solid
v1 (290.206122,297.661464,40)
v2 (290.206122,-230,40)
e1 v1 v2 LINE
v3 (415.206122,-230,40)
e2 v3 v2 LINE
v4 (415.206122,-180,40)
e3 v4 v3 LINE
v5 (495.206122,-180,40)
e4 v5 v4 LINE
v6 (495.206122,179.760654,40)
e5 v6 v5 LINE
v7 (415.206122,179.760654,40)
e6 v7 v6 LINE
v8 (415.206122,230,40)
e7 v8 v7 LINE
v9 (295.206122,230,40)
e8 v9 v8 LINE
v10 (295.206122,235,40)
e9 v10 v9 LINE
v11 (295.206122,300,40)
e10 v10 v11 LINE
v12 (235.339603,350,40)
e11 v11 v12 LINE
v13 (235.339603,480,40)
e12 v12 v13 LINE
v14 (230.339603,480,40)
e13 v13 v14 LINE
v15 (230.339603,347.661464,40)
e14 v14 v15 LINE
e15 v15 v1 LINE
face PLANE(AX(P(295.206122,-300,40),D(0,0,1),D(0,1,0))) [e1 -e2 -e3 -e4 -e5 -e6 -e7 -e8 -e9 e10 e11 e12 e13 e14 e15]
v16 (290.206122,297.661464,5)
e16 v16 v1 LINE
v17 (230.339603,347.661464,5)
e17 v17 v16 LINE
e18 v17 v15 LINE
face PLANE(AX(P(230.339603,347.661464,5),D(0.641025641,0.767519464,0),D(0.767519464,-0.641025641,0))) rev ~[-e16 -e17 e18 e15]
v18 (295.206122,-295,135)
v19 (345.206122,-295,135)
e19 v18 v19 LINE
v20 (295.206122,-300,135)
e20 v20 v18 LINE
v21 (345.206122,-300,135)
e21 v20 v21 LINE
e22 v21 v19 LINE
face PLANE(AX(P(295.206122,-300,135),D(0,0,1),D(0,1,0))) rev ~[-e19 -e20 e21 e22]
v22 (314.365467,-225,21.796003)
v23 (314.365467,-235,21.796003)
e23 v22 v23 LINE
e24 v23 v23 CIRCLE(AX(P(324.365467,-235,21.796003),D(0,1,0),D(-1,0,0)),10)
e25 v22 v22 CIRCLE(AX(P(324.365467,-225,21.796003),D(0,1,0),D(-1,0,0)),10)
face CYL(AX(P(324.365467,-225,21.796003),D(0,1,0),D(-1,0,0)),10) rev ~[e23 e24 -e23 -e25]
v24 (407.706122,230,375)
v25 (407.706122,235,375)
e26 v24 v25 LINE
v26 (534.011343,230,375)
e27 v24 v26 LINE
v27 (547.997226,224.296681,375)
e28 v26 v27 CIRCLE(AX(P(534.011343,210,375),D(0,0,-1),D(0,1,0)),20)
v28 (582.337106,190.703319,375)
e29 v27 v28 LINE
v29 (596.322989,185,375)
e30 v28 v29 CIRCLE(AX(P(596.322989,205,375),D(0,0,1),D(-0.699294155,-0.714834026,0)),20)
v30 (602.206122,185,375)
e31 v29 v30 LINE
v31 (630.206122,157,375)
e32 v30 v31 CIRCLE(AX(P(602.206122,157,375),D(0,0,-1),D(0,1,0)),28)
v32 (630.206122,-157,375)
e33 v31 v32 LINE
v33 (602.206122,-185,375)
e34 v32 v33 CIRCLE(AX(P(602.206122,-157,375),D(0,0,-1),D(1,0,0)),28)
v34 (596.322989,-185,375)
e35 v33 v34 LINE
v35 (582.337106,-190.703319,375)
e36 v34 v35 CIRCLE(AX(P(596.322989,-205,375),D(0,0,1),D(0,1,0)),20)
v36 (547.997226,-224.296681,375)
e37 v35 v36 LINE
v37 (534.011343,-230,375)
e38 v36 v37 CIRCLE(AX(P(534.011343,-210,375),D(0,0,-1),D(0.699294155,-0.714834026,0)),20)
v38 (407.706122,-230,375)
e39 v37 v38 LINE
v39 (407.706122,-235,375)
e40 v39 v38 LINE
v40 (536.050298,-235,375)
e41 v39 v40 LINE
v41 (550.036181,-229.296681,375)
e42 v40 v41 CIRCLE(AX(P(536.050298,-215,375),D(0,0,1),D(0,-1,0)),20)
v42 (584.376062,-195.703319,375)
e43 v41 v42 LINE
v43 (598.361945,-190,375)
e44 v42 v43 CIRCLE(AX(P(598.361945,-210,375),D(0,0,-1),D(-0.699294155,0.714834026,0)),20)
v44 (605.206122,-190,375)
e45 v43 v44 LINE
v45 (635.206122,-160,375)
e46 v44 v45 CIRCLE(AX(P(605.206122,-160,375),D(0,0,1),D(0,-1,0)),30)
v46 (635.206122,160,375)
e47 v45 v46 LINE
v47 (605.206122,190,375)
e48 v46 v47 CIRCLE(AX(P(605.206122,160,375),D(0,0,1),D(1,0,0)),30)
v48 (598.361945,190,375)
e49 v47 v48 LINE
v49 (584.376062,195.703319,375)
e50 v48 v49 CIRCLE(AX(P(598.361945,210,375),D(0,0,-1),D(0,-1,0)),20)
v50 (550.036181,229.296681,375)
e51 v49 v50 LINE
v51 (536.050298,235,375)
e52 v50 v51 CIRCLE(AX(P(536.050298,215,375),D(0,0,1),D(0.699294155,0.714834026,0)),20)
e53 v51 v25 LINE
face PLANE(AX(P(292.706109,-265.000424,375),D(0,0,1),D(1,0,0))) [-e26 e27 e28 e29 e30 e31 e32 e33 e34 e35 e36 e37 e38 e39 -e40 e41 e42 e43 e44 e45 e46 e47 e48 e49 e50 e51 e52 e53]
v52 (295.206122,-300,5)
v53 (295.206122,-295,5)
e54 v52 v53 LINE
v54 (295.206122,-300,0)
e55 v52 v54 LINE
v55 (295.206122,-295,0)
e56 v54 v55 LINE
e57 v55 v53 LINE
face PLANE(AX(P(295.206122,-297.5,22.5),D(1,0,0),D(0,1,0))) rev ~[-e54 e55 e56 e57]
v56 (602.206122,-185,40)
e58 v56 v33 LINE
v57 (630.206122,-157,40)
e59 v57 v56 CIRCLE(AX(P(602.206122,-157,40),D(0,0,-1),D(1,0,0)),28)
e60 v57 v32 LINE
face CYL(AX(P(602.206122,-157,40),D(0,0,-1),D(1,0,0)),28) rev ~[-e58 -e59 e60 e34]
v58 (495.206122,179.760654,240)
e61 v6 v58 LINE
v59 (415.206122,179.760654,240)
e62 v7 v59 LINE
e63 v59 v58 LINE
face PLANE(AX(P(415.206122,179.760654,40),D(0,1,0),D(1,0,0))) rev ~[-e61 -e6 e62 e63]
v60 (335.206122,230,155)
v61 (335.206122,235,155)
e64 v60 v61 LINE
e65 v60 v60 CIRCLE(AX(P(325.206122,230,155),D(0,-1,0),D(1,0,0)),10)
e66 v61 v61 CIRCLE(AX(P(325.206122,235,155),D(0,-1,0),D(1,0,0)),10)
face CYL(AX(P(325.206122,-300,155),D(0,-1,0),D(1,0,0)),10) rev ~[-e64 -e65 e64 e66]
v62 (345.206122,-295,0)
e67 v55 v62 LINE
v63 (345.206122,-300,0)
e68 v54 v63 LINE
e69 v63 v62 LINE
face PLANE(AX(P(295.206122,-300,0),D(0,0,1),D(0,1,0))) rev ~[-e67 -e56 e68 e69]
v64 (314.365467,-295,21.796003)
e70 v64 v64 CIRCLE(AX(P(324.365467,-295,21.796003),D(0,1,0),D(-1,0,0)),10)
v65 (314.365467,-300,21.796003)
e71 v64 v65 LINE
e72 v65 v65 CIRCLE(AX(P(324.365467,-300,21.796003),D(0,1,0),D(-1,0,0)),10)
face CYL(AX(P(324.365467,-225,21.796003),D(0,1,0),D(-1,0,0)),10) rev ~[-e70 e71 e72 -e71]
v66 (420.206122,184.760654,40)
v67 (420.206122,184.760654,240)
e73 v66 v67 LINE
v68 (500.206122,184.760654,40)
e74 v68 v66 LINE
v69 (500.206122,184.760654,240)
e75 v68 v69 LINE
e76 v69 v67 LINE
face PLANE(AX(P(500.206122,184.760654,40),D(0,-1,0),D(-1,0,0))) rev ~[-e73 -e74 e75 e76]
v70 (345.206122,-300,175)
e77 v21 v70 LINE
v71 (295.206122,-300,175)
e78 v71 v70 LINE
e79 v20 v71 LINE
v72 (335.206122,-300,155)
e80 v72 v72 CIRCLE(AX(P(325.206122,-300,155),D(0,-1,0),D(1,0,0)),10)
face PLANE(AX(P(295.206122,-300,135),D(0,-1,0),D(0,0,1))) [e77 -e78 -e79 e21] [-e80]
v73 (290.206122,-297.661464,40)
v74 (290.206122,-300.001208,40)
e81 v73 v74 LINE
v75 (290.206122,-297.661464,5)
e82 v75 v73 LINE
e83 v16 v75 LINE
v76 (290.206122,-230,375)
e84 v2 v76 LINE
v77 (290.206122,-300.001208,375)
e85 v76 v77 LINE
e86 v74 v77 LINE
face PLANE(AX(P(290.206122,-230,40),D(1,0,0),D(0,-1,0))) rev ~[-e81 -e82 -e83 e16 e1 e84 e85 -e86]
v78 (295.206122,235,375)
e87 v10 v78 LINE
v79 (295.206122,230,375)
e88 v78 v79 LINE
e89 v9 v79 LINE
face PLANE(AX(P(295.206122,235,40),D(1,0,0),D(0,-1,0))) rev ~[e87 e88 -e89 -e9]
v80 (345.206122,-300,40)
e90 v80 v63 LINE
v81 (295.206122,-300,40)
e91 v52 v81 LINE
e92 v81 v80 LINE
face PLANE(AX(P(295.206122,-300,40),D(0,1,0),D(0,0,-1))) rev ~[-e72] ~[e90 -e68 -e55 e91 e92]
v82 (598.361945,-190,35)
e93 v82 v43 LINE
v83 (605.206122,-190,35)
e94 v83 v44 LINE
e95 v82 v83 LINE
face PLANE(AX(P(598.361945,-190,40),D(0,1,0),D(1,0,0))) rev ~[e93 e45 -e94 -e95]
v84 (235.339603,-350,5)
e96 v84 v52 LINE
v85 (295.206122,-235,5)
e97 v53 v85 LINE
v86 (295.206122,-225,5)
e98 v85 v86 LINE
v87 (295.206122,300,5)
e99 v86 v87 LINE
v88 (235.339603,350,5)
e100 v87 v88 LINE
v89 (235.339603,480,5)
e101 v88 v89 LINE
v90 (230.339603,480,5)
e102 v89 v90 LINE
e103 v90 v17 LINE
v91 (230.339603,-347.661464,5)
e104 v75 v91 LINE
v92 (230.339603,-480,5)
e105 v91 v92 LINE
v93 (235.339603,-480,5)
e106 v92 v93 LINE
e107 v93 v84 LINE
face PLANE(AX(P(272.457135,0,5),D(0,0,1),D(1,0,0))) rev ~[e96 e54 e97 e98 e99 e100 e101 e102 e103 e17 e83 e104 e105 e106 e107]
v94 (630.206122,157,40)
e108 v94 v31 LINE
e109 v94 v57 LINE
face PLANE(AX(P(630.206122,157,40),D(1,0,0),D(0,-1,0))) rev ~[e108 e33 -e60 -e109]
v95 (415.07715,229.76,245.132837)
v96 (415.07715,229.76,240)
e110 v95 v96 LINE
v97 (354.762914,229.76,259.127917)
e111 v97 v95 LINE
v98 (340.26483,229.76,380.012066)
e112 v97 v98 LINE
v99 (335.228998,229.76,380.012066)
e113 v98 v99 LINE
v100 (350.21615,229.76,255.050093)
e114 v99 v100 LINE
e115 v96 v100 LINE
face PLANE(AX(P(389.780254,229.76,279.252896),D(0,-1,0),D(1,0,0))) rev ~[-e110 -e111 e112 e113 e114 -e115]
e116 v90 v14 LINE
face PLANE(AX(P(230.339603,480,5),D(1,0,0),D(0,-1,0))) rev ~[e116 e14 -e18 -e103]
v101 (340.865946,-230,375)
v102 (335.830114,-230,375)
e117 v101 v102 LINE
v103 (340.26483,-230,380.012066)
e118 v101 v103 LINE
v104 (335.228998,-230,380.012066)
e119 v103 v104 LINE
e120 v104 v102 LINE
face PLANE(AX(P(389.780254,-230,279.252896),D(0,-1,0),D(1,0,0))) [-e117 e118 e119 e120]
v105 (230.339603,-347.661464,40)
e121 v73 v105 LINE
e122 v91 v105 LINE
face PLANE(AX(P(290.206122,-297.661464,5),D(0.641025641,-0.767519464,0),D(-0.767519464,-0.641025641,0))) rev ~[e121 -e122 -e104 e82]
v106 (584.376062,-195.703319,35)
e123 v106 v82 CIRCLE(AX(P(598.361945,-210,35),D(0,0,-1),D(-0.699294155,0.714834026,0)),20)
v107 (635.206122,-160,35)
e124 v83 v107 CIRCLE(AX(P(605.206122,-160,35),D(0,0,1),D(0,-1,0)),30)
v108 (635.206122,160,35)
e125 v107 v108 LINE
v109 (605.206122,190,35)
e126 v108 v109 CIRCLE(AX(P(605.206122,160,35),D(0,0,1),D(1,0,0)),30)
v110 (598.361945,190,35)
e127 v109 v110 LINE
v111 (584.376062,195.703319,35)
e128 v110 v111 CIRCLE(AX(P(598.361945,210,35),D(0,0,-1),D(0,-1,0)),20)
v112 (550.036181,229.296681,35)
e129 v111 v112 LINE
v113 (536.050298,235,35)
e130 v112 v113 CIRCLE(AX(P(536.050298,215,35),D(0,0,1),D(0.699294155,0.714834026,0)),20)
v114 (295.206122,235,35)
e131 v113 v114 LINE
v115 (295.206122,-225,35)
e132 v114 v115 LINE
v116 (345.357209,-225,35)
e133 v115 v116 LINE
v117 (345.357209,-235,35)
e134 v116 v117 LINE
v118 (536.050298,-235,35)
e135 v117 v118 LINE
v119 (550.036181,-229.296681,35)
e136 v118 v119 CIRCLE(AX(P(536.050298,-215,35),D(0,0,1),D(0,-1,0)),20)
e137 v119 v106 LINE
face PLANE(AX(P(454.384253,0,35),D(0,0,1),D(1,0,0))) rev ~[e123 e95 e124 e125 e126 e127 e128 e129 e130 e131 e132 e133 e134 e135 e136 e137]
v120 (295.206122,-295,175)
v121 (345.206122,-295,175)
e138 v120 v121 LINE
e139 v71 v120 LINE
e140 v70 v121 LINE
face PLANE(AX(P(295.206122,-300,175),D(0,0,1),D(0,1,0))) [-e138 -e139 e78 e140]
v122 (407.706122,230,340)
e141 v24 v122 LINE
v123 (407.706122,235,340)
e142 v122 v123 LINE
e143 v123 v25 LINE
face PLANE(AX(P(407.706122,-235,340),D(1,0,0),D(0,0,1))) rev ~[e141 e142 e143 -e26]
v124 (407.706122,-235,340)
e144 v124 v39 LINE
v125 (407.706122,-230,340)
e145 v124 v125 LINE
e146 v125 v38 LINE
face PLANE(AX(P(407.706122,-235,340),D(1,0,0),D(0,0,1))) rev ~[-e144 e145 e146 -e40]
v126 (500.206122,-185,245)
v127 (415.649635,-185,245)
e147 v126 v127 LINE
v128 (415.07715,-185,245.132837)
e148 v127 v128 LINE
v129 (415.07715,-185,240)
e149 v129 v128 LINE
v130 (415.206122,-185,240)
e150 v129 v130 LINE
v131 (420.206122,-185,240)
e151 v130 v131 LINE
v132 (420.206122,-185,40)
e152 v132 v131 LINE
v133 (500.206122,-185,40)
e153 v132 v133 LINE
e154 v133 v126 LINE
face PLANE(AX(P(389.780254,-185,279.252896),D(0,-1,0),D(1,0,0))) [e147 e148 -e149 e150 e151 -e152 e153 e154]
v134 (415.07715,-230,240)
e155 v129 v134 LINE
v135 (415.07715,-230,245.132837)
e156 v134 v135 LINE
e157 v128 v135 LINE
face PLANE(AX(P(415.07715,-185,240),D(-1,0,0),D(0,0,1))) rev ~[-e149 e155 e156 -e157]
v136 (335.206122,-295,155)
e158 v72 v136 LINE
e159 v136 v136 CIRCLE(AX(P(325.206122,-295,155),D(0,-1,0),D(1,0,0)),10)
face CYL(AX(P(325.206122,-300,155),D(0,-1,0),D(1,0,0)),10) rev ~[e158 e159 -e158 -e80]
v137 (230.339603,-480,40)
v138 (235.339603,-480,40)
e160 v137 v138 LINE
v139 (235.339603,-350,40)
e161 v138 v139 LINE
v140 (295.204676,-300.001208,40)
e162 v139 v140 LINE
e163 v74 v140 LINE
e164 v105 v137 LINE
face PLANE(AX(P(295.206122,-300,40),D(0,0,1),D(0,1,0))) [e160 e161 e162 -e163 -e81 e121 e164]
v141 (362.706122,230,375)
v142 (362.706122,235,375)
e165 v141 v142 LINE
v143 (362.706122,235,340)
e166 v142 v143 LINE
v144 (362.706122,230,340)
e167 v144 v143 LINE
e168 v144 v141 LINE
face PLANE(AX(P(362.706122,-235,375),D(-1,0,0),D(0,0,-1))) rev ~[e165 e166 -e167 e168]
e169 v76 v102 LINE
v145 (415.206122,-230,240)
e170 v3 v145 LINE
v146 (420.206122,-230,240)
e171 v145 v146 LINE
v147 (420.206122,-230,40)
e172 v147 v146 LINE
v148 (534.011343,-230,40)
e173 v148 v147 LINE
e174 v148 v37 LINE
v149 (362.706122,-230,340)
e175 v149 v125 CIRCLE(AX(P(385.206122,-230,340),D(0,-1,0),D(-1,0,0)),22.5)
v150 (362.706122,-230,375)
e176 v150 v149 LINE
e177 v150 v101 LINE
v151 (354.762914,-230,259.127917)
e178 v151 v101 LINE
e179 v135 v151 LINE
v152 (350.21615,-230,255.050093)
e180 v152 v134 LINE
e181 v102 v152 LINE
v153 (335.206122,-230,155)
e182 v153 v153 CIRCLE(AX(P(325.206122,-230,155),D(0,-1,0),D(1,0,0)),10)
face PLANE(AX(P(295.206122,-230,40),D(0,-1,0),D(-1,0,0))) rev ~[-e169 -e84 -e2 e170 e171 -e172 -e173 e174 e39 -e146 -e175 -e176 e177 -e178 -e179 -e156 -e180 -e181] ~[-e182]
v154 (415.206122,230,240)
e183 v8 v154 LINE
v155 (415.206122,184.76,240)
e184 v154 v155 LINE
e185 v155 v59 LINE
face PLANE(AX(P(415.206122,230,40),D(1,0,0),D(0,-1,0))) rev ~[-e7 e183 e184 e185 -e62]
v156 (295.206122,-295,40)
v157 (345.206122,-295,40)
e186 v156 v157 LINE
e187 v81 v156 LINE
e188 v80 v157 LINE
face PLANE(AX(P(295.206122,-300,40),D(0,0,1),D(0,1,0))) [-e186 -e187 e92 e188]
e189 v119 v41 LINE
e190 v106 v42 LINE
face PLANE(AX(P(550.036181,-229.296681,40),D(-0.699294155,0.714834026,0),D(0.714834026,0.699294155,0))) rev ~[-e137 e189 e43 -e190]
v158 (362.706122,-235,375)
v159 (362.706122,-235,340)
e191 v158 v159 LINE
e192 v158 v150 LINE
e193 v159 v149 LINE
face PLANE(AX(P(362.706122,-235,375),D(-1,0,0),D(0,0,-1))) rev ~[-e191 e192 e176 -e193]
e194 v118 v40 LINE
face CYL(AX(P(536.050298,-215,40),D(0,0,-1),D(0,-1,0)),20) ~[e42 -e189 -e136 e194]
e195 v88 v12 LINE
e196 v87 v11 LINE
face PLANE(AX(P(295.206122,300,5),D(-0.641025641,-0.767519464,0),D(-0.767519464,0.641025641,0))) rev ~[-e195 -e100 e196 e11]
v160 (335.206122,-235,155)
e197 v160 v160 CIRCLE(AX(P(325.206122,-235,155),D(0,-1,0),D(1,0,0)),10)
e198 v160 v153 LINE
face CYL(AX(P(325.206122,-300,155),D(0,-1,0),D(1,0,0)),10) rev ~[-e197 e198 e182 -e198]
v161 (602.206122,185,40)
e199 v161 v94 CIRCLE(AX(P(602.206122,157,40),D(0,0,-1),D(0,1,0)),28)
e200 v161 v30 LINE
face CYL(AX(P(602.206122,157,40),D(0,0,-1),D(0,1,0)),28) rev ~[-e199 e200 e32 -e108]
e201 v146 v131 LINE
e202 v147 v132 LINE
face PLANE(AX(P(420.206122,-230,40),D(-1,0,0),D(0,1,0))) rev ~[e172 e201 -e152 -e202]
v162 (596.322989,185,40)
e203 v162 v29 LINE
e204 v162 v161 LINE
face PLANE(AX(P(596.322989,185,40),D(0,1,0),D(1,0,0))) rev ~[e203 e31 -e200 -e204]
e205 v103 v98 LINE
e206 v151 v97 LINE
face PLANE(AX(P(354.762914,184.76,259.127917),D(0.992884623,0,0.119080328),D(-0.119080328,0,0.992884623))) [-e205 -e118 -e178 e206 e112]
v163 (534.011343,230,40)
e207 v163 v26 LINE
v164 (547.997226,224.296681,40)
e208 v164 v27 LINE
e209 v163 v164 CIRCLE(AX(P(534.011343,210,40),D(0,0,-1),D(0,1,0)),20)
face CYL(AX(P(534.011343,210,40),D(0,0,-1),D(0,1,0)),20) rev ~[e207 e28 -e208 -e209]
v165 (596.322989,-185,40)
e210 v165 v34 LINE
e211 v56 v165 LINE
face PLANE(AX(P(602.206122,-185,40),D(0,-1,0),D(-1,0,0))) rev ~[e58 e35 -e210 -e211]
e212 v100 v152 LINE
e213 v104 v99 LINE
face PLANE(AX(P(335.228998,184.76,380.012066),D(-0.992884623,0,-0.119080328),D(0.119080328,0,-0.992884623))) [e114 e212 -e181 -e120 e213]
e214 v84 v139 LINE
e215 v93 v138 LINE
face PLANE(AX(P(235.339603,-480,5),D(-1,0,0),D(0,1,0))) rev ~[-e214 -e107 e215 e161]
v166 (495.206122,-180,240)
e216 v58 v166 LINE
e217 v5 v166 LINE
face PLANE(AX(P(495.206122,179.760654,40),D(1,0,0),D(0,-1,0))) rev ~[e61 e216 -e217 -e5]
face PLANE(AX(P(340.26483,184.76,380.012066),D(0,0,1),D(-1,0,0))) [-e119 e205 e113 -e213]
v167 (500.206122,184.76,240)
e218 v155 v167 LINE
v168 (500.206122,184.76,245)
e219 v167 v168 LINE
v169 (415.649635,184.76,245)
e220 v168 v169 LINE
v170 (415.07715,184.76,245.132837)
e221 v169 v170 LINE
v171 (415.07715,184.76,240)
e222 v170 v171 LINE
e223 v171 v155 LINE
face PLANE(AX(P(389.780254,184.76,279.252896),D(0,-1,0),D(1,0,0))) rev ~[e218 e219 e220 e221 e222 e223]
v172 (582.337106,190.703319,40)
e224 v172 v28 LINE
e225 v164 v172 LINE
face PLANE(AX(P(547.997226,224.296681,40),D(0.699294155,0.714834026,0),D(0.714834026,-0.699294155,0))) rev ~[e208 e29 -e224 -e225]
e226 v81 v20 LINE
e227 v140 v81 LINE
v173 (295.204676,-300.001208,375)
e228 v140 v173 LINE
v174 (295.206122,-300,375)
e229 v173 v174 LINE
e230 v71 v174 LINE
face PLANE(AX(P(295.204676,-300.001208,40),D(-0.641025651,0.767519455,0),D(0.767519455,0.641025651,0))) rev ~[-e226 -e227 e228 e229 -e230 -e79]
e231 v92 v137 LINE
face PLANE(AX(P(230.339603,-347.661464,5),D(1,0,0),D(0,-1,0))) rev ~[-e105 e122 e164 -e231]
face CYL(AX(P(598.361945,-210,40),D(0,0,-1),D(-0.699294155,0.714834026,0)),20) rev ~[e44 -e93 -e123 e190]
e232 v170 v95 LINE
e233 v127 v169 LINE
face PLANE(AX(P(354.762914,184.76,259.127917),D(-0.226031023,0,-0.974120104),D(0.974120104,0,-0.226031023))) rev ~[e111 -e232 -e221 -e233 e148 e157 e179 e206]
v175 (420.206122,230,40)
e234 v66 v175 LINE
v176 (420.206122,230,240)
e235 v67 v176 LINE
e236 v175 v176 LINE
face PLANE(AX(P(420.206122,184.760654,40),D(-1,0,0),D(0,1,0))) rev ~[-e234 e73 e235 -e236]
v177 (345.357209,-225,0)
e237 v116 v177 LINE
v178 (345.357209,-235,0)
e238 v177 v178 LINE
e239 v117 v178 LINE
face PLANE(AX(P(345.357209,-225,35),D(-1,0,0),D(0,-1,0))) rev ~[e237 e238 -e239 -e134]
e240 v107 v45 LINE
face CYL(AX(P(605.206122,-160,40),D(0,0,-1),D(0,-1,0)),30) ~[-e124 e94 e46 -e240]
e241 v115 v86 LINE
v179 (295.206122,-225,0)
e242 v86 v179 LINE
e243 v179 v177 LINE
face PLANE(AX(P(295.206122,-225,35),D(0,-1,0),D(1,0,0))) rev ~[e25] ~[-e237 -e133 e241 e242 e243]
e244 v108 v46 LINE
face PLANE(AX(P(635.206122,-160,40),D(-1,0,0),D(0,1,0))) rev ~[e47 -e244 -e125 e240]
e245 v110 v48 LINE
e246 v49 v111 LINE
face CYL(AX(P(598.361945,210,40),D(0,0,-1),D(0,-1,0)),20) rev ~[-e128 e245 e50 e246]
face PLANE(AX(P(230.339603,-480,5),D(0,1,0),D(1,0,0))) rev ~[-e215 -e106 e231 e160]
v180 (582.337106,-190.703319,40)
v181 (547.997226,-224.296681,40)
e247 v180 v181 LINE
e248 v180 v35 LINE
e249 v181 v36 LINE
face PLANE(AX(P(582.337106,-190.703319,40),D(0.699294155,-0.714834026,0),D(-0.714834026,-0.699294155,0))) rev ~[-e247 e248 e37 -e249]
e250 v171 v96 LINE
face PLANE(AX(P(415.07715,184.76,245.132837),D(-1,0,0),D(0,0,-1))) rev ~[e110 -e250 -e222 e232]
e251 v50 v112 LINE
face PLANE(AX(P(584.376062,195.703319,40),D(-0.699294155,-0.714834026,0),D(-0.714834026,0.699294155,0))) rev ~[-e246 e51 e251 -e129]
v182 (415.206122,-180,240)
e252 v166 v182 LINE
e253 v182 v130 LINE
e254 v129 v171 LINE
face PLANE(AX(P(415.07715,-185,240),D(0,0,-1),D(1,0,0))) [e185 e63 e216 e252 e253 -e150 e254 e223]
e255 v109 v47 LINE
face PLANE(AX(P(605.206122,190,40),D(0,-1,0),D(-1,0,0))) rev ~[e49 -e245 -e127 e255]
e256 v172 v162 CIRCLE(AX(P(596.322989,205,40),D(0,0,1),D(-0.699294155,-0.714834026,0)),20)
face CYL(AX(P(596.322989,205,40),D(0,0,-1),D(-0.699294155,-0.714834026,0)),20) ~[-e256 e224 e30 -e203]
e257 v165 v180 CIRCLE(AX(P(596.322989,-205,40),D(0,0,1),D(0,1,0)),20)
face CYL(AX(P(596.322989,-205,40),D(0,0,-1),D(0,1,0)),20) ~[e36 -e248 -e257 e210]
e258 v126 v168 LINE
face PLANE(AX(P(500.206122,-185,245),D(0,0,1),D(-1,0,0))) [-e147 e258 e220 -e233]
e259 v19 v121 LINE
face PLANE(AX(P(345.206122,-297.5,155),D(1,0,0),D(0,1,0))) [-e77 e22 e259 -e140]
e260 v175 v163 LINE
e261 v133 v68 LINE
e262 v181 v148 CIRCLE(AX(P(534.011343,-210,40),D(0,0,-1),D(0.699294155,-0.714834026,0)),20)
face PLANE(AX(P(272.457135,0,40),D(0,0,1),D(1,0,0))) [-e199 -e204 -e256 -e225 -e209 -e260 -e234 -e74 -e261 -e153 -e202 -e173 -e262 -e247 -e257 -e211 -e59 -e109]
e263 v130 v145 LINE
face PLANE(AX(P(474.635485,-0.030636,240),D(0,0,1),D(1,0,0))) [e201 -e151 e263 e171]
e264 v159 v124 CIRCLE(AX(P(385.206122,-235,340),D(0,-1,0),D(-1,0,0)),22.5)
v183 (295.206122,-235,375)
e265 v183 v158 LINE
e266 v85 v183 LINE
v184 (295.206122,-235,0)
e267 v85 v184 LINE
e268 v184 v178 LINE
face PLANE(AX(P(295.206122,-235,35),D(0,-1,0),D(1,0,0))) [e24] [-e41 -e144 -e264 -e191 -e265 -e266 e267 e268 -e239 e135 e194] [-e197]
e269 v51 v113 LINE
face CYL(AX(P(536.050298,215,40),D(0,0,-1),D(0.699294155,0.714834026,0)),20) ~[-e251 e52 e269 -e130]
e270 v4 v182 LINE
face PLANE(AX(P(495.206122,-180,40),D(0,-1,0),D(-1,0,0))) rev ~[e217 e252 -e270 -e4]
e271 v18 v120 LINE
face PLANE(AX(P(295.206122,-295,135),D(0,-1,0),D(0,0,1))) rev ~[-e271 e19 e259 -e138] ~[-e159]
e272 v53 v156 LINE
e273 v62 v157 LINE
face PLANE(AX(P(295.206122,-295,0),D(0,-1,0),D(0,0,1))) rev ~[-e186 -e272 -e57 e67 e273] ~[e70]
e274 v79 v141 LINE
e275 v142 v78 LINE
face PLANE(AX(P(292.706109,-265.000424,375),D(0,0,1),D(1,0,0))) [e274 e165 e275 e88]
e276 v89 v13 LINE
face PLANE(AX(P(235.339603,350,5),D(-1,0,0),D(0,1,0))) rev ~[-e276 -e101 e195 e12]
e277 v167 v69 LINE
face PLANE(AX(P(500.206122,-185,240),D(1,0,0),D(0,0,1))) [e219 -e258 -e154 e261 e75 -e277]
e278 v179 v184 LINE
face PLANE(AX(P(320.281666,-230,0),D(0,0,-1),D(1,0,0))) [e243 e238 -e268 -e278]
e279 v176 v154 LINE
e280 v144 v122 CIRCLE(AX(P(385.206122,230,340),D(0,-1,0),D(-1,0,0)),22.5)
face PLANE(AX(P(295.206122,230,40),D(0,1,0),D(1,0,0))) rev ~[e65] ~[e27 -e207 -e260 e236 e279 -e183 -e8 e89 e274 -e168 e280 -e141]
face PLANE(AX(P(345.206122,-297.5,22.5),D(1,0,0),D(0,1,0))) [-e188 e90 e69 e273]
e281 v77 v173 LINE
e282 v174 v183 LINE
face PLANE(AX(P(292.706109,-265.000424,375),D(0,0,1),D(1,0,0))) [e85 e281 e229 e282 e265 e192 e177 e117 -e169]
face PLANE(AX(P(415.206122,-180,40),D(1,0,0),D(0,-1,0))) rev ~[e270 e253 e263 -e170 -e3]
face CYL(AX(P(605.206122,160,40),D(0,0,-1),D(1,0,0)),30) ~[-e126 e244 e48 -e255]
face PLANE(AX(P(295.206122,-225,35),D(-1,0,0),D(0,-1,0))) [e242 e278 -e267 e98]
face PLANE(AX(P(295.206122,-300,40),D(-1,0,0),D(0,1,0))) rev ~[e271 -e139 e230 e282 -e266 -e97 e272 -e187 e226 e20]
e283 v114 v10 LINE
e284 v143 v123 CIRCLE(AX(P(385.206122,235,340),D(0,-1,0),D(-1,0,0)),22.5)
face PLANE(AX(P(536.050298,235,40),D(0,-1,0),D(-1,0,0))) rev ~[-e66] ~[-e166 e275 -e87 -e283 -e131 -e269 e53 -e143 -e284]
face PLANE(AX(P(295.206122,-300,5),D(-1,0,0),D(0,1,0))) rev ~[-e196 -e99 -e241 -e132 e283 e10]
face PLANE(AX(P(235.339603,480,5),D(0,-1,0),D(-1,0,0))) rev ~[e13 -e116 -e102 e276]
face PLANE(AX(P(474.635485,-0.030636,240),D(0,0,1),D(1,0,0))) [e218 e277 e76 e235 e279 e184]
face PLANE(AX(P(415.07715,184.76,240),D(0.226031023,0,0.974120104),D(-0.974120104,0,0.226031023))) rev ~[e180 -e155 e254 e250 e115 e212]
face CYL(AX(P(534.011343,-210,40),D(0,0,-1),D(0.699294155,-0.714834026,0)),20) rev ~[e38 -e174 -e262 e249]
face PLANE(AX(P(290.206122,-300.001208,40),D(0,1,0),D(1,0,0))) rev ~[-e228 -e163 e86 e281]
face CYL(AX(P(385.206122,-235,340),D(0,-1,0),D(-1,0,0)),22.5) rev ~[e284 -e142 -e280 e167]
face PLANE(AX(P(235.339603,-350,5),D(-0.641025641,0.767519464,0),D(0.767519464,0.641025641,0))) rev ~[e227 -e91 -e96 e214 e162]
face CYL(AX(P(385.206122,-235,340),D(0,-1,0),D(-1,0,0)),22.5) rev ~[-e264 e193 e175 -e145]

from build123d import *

# Parameters (mm, degrees)
F7_START  = 35
F7_DEPTH  = 5
F8_START  = 5
F8_DEPTH  = 35
F11_DEPTH = 200
F13_DEPTH = 369.76
F15_DEPTH = 45
F17_DEPTH = 45
F18_DEPTH = 45
F19_DEPTH = 45
F20_DEPTH = 335
F22_W     = 50.1510878829
F22_H     = 10
F23_DEPTH = 35
F24_W     = 5
F24_H     = 35
F24_H_2   = 5
F25_DEPTH = 50
F26_R     = 10
F27_DEPTH = 255.001
F29_DEPTH = 335
F30_W     = 5
F30_H     = 40
F31_DEPTH = 50
F32_R     = 10
F33_DEPTH = 780.001
F35_DEPTH = 715.001


with BuildPart() as f7:
    # F5 (on face) → F7 (new body)
    with BuildSketch(Plane.XY.offset(F7_START)):
        with BuildLine():
            Line((536.0502983732, 235), (295.2061215611, 235))
            Line((295.2061215611, 235), (295.2061215611, -235))
            Line((295.2061215611, -235), (536.0502983732, -235))
            ThreePointArc((536.0502983732, -235), (543.6023308733, -233.5193629782), (550.0361814825, -229.2966805117))
            Line((550.0361814825, -229.2966805117), (584.3760616397, -195.7033194883))
            ThreePointArc((584.3760616397, -195.7033194883), (590.8099122489, -191.4806370218), (598.361944749, -190))
            Line((598.361944749, -190), (605.2061215611, -190))
            ThreePointArc((605.2061215611, -190), (626.4193249967, -181.2132034356), (635.2061215611, -160))
            Line((635.2061215611, -160), (635.2061215611, 160))
            ThreePointArc((635.2061215611, 160), (626.4193249967, 181.2132034356), (605.2061215611, 190))
            Line((605.2061215611, 190), (598.361944749, 190))
            ThreePointArc((598.361944749, 190), (590.8099122489, 191.4806370218), (584.3760616397, 195.7033194883))
            Line((584.3760616397, 195.7033194883), (550.0361814825, 229.2966805117))
            ThreePointArc((550.0361814825, 229.2966805117), (543.6023308733, 233.5193629782), (536.0502983732, 235))
        make_face()
    extrude(amount=F7_DEPTH)

    # F10 (on face) → F11 (join)
    with BuildSketch(Plane.XY.offset(40)):
        Polygon((420.2061215611, 230), (415.2061215611, 230), (415.2061215611, 179.7606539726), (495.2061215611, 179.7606539726), (495.2061215611, -180), (415.2061215611, -180), (415.2061215611, -230), (420.2061215611, -230), (420.2061215611, -185), (500.2061215611, -185), (500.2061215611, 184.7606539726), (420.2061215611, 184.7606539726), align=None)
    extrude(amount=F11_DEPTH)



with BuildPart() as f8:
    # F6 (on face) → F8 (new body)
    with BuildSketch(Plane.XY.offset(F8_START)):
        Polygon((235.3396033727, 350), (235.3396033727, 480), (230.3396033727, 480), (230.3396033727, 347.6614641333), (290.2061215611, 297.6614641333), (290.2061215611, -297.6614641333), (230.3396033727, -347.6614641333), (230.3396033727, -480), (235.3396033727, -480), (235.3396033727, -350), (295.2061215611, -300), (295.2061215611, 300), align=None)
    extrude(amount=F8_DEPTH)


with BuildPart() as f13:
    # F12 (on face) → F13 (new body)
    with BuildSketch(Plane.XZ.offset(185)):
        Polygon((415.077149868, 240), (500.2061215611, 240), (500.2061215611, 245), (415.6496353582, 245), (354.7629135856, 259.1279170394), (340.264830222, 380.0120656257), (335.2289983824, 380.0120656257), (350.2161502838, 255.0500929356), align=None)
    extrude(amount=-F13_DEPTH)

    # F14 (on face) → F15 (join)
    with BuildSketch(Plane.XZ.offset(185)):
        Polygon((354.7629135856, 259.1279170394), (350.2161502838, 255.0500929356), (415.077149868, 240), (415.077149868, 245.1328372965), align=None)
    extrude(amount=F15_DEPTH)

    # F16 (on face) → F17 (join)
    with BuildSketch(Plane(origin=(0, 184.76, 0), x_dir=(-1, 0, 0), z_dir=(0, 1, 0))):
        Polygon((-415.077149868, 245.1328372965), (-415.077149868, 240), (-350.2161502838, 255.0500929356), (-354.7629135856, 259.1279170394), align=None)
    extrude(amount=F17_DEPTH)

    # F18 (add): a face of the model
    f18_faces = [f13.faces().sort_by_distance(p)[0] for p in [
        (345.1049776592, -185, 318.5448987695),
    ]]
    extrude(f18_faces, amount=F18_DEPTH)

    # F19 (add): a face of the model
    f19_faces = [f13.faces().sort_by_distance(p)[0] for p in [
        (345.1049776592, 184.76, 318.5448987695),
    ]]
    extrude(f19_faces, amount=F19_DEPTH)


with BuildPart() as f7_1:
    add(f7.part)

    add(f8.part)  # F20 merges F8

    add(f13.part)  # F20 merges F13
    # F9 (on face) → F20 (join)
    with BuildSketch(Plane.XY.offset(40)):
        with BuildLine():
            Line((536.0502983732, 235), (295.2061215611, 235))
            Line((295.2061215611, 235), (295.2061215611, 230))
            Line((295.2061215611, 230), (534.0113425762, 230))
            ThreePointArc((534.0113425762, 230), (541.5633750764, 228.5193629782), (547.9972256855, 224.2966805117))
            Line((547.9972256855, 224.2966805117), (582.3371058428, 190.7033194883))
            ThreePointArc((582.3371058428, 190.7033194883), (588.7709564519, 186.4806370218), (596.322988952, 185))
            Line((596.322988952, 185), (602.2061215611, 185))
            ThreePointArc((602.2061215611, 185), (622.0051114343, 176.7989898732), (630.2061215611, 157))
            Line((630.2061215611, 157), (630.2061215611, -157))
            ThreePointArc((630.2061215611, -157), (622.0051114343, -176.7989898732), (602.2061215611, -185))
            Line((602.2061215611, -185), (596.322988952, -185))
            ThreePointArc((596.322988952, -185), (588.7709564519, -186.4806370218), (582.3371058428, -190.7033194883))
            Line((582.3371058428, -190.7033194883), (547.9972256855, -224.2966805117))
            ThreePointArc((547.9972256855, -224.2966805117), (541.5633750764, -228.5193629782), (534.0113425762, -230))
            Line((534.0113425762, -230), (295.2061215611, -230))
            Line((295.2061215611, -230), (295.2061215611, -235))
            Line((295.2061215611, -235), (536.0502983732, -235))
            ThreePointArc((536.0502983732, -235), (543.6023308733, -233.5193629782), (550.0361814825, -229.2966805117))
            Line((550.0361814825, -229.2966805117), (584.3760616397, -195.7033194883))
            ThreePointArc((584.3760616397, -195.7033194883), (590.8099122489, -191.4806370218), (598.361944749, -190))
            Line((598.361944749, -190), (605.2061215611, -190))
            ThreePointArc((605.2061215611, -190), (626.4193249967, -181.2132034356), (635.2061215611, -160))
            Line((635.2061215611, -160), (635.2061215611, 160))
            ThreePointArc((635.2061215611, 160), (626.4193249967, 181.2132034356), (605.2061215611, 190))
            Line((605.2061215611, 190), (598.361944749, 190))
            ThreePointArc((598.361944749, 190), (590.8099122489, 191.4806370218), (584.3760616397, 195.7033194883))
            Line((584.3760616397, 195.7033194883), (550.0361814825, 229.2966805117))
            ThreePointArc((550.0361814825, 229.2966805117), (543.6023308733, 233.5193629782), (536.0502983732, 235))
        make_face()
    extrude(amount=F20_DEPTH)

    # F22 (on face) → F23 (join)
    with BuildSketch(Plane(origin=(0, 0, 35), x_dir=(1, 0, 0), z_dir=(0, 0, -1))):
        with Locations((320.2816655026, 230)):
            Rectangle(F22_W, F22_H)
    extrude(amount=F23_DEPTH)

    # F24 (on face) → F25 (join)
    with BuildSketch(Plane.YZ.offset(295.2061215611)):
        with Locations((-297.5, 22.5)):
            Rectangle(F24_W, F24_H)
        with Locations((-297.5, 2.5)):
            Rectangle(F24_W, F24_H_2)
    extrude(amount=F25_DEPTH)

    # F26 (on face) → F27 (cut, through all)
    with BuildSketch(Plane(origin=(0, -225, 0), x_dir=(-1, 0, 0), z_dir=(0, 1, 0))):
        with Locations((-324.3654668331, 21.796002984)):
            Circle(F26_R)
    extrude(amount=-F27_DEPTH, mode=Mode.SUBTRACT)

    # F28 (on face) → F29 (join)
    with BuildSketch(Plane.XY.offset(40)):
        Polygon((295.2061215611, -235), (295.2061215611, -230), (290.2061215611, -230), (290.2061215611, -297.6614641333), (290.2061215611, -300.0012075878), (295.2046756796, -300.0012075878), (295.2061215611, -300), (295.2061215611, -295), align=None)
    extrude(amount=F29_DEPTH)

    # F30 (on face) → F31 (join)
    with BuildSketch(Plane.YZ.offset(295.2061215611)):
        with Locations((-297.5, 155)):
            Rectangle(F30_W, F30_H)
    extrude(amount=F31_DEPTH)

    # F32 (on face) → F33 (cut, through all)
    with BuildSketch(Plane.XZ.offset(300)):
        with Locations((325.2061215611, 155)):
            Circle(F32_R)
    extrude(amount=-F33_DEPTH, mode=Mode.SUBTRACT)

    # F34 (on face) → F35 (cut, through all)
    with BuildSketch(Plane.XZ.offset(235)):
        with BuildLine():
            Line((362.7061215611, 375), (362.7061215611, 340))
            ThreePointArc((362.7061215611, 340), (385.2061215611, 317.5), (407.7061215611, 340))
            Line((407.7061215611, 340), (407.7061215611, 375))
            Line((407.7061215611, 375), (362.7061215611, 375))
        make_face()
    extrude(amount=-F35_DEPTH, mode=Mode.SUBTRACT)


solid = f7_1.part
